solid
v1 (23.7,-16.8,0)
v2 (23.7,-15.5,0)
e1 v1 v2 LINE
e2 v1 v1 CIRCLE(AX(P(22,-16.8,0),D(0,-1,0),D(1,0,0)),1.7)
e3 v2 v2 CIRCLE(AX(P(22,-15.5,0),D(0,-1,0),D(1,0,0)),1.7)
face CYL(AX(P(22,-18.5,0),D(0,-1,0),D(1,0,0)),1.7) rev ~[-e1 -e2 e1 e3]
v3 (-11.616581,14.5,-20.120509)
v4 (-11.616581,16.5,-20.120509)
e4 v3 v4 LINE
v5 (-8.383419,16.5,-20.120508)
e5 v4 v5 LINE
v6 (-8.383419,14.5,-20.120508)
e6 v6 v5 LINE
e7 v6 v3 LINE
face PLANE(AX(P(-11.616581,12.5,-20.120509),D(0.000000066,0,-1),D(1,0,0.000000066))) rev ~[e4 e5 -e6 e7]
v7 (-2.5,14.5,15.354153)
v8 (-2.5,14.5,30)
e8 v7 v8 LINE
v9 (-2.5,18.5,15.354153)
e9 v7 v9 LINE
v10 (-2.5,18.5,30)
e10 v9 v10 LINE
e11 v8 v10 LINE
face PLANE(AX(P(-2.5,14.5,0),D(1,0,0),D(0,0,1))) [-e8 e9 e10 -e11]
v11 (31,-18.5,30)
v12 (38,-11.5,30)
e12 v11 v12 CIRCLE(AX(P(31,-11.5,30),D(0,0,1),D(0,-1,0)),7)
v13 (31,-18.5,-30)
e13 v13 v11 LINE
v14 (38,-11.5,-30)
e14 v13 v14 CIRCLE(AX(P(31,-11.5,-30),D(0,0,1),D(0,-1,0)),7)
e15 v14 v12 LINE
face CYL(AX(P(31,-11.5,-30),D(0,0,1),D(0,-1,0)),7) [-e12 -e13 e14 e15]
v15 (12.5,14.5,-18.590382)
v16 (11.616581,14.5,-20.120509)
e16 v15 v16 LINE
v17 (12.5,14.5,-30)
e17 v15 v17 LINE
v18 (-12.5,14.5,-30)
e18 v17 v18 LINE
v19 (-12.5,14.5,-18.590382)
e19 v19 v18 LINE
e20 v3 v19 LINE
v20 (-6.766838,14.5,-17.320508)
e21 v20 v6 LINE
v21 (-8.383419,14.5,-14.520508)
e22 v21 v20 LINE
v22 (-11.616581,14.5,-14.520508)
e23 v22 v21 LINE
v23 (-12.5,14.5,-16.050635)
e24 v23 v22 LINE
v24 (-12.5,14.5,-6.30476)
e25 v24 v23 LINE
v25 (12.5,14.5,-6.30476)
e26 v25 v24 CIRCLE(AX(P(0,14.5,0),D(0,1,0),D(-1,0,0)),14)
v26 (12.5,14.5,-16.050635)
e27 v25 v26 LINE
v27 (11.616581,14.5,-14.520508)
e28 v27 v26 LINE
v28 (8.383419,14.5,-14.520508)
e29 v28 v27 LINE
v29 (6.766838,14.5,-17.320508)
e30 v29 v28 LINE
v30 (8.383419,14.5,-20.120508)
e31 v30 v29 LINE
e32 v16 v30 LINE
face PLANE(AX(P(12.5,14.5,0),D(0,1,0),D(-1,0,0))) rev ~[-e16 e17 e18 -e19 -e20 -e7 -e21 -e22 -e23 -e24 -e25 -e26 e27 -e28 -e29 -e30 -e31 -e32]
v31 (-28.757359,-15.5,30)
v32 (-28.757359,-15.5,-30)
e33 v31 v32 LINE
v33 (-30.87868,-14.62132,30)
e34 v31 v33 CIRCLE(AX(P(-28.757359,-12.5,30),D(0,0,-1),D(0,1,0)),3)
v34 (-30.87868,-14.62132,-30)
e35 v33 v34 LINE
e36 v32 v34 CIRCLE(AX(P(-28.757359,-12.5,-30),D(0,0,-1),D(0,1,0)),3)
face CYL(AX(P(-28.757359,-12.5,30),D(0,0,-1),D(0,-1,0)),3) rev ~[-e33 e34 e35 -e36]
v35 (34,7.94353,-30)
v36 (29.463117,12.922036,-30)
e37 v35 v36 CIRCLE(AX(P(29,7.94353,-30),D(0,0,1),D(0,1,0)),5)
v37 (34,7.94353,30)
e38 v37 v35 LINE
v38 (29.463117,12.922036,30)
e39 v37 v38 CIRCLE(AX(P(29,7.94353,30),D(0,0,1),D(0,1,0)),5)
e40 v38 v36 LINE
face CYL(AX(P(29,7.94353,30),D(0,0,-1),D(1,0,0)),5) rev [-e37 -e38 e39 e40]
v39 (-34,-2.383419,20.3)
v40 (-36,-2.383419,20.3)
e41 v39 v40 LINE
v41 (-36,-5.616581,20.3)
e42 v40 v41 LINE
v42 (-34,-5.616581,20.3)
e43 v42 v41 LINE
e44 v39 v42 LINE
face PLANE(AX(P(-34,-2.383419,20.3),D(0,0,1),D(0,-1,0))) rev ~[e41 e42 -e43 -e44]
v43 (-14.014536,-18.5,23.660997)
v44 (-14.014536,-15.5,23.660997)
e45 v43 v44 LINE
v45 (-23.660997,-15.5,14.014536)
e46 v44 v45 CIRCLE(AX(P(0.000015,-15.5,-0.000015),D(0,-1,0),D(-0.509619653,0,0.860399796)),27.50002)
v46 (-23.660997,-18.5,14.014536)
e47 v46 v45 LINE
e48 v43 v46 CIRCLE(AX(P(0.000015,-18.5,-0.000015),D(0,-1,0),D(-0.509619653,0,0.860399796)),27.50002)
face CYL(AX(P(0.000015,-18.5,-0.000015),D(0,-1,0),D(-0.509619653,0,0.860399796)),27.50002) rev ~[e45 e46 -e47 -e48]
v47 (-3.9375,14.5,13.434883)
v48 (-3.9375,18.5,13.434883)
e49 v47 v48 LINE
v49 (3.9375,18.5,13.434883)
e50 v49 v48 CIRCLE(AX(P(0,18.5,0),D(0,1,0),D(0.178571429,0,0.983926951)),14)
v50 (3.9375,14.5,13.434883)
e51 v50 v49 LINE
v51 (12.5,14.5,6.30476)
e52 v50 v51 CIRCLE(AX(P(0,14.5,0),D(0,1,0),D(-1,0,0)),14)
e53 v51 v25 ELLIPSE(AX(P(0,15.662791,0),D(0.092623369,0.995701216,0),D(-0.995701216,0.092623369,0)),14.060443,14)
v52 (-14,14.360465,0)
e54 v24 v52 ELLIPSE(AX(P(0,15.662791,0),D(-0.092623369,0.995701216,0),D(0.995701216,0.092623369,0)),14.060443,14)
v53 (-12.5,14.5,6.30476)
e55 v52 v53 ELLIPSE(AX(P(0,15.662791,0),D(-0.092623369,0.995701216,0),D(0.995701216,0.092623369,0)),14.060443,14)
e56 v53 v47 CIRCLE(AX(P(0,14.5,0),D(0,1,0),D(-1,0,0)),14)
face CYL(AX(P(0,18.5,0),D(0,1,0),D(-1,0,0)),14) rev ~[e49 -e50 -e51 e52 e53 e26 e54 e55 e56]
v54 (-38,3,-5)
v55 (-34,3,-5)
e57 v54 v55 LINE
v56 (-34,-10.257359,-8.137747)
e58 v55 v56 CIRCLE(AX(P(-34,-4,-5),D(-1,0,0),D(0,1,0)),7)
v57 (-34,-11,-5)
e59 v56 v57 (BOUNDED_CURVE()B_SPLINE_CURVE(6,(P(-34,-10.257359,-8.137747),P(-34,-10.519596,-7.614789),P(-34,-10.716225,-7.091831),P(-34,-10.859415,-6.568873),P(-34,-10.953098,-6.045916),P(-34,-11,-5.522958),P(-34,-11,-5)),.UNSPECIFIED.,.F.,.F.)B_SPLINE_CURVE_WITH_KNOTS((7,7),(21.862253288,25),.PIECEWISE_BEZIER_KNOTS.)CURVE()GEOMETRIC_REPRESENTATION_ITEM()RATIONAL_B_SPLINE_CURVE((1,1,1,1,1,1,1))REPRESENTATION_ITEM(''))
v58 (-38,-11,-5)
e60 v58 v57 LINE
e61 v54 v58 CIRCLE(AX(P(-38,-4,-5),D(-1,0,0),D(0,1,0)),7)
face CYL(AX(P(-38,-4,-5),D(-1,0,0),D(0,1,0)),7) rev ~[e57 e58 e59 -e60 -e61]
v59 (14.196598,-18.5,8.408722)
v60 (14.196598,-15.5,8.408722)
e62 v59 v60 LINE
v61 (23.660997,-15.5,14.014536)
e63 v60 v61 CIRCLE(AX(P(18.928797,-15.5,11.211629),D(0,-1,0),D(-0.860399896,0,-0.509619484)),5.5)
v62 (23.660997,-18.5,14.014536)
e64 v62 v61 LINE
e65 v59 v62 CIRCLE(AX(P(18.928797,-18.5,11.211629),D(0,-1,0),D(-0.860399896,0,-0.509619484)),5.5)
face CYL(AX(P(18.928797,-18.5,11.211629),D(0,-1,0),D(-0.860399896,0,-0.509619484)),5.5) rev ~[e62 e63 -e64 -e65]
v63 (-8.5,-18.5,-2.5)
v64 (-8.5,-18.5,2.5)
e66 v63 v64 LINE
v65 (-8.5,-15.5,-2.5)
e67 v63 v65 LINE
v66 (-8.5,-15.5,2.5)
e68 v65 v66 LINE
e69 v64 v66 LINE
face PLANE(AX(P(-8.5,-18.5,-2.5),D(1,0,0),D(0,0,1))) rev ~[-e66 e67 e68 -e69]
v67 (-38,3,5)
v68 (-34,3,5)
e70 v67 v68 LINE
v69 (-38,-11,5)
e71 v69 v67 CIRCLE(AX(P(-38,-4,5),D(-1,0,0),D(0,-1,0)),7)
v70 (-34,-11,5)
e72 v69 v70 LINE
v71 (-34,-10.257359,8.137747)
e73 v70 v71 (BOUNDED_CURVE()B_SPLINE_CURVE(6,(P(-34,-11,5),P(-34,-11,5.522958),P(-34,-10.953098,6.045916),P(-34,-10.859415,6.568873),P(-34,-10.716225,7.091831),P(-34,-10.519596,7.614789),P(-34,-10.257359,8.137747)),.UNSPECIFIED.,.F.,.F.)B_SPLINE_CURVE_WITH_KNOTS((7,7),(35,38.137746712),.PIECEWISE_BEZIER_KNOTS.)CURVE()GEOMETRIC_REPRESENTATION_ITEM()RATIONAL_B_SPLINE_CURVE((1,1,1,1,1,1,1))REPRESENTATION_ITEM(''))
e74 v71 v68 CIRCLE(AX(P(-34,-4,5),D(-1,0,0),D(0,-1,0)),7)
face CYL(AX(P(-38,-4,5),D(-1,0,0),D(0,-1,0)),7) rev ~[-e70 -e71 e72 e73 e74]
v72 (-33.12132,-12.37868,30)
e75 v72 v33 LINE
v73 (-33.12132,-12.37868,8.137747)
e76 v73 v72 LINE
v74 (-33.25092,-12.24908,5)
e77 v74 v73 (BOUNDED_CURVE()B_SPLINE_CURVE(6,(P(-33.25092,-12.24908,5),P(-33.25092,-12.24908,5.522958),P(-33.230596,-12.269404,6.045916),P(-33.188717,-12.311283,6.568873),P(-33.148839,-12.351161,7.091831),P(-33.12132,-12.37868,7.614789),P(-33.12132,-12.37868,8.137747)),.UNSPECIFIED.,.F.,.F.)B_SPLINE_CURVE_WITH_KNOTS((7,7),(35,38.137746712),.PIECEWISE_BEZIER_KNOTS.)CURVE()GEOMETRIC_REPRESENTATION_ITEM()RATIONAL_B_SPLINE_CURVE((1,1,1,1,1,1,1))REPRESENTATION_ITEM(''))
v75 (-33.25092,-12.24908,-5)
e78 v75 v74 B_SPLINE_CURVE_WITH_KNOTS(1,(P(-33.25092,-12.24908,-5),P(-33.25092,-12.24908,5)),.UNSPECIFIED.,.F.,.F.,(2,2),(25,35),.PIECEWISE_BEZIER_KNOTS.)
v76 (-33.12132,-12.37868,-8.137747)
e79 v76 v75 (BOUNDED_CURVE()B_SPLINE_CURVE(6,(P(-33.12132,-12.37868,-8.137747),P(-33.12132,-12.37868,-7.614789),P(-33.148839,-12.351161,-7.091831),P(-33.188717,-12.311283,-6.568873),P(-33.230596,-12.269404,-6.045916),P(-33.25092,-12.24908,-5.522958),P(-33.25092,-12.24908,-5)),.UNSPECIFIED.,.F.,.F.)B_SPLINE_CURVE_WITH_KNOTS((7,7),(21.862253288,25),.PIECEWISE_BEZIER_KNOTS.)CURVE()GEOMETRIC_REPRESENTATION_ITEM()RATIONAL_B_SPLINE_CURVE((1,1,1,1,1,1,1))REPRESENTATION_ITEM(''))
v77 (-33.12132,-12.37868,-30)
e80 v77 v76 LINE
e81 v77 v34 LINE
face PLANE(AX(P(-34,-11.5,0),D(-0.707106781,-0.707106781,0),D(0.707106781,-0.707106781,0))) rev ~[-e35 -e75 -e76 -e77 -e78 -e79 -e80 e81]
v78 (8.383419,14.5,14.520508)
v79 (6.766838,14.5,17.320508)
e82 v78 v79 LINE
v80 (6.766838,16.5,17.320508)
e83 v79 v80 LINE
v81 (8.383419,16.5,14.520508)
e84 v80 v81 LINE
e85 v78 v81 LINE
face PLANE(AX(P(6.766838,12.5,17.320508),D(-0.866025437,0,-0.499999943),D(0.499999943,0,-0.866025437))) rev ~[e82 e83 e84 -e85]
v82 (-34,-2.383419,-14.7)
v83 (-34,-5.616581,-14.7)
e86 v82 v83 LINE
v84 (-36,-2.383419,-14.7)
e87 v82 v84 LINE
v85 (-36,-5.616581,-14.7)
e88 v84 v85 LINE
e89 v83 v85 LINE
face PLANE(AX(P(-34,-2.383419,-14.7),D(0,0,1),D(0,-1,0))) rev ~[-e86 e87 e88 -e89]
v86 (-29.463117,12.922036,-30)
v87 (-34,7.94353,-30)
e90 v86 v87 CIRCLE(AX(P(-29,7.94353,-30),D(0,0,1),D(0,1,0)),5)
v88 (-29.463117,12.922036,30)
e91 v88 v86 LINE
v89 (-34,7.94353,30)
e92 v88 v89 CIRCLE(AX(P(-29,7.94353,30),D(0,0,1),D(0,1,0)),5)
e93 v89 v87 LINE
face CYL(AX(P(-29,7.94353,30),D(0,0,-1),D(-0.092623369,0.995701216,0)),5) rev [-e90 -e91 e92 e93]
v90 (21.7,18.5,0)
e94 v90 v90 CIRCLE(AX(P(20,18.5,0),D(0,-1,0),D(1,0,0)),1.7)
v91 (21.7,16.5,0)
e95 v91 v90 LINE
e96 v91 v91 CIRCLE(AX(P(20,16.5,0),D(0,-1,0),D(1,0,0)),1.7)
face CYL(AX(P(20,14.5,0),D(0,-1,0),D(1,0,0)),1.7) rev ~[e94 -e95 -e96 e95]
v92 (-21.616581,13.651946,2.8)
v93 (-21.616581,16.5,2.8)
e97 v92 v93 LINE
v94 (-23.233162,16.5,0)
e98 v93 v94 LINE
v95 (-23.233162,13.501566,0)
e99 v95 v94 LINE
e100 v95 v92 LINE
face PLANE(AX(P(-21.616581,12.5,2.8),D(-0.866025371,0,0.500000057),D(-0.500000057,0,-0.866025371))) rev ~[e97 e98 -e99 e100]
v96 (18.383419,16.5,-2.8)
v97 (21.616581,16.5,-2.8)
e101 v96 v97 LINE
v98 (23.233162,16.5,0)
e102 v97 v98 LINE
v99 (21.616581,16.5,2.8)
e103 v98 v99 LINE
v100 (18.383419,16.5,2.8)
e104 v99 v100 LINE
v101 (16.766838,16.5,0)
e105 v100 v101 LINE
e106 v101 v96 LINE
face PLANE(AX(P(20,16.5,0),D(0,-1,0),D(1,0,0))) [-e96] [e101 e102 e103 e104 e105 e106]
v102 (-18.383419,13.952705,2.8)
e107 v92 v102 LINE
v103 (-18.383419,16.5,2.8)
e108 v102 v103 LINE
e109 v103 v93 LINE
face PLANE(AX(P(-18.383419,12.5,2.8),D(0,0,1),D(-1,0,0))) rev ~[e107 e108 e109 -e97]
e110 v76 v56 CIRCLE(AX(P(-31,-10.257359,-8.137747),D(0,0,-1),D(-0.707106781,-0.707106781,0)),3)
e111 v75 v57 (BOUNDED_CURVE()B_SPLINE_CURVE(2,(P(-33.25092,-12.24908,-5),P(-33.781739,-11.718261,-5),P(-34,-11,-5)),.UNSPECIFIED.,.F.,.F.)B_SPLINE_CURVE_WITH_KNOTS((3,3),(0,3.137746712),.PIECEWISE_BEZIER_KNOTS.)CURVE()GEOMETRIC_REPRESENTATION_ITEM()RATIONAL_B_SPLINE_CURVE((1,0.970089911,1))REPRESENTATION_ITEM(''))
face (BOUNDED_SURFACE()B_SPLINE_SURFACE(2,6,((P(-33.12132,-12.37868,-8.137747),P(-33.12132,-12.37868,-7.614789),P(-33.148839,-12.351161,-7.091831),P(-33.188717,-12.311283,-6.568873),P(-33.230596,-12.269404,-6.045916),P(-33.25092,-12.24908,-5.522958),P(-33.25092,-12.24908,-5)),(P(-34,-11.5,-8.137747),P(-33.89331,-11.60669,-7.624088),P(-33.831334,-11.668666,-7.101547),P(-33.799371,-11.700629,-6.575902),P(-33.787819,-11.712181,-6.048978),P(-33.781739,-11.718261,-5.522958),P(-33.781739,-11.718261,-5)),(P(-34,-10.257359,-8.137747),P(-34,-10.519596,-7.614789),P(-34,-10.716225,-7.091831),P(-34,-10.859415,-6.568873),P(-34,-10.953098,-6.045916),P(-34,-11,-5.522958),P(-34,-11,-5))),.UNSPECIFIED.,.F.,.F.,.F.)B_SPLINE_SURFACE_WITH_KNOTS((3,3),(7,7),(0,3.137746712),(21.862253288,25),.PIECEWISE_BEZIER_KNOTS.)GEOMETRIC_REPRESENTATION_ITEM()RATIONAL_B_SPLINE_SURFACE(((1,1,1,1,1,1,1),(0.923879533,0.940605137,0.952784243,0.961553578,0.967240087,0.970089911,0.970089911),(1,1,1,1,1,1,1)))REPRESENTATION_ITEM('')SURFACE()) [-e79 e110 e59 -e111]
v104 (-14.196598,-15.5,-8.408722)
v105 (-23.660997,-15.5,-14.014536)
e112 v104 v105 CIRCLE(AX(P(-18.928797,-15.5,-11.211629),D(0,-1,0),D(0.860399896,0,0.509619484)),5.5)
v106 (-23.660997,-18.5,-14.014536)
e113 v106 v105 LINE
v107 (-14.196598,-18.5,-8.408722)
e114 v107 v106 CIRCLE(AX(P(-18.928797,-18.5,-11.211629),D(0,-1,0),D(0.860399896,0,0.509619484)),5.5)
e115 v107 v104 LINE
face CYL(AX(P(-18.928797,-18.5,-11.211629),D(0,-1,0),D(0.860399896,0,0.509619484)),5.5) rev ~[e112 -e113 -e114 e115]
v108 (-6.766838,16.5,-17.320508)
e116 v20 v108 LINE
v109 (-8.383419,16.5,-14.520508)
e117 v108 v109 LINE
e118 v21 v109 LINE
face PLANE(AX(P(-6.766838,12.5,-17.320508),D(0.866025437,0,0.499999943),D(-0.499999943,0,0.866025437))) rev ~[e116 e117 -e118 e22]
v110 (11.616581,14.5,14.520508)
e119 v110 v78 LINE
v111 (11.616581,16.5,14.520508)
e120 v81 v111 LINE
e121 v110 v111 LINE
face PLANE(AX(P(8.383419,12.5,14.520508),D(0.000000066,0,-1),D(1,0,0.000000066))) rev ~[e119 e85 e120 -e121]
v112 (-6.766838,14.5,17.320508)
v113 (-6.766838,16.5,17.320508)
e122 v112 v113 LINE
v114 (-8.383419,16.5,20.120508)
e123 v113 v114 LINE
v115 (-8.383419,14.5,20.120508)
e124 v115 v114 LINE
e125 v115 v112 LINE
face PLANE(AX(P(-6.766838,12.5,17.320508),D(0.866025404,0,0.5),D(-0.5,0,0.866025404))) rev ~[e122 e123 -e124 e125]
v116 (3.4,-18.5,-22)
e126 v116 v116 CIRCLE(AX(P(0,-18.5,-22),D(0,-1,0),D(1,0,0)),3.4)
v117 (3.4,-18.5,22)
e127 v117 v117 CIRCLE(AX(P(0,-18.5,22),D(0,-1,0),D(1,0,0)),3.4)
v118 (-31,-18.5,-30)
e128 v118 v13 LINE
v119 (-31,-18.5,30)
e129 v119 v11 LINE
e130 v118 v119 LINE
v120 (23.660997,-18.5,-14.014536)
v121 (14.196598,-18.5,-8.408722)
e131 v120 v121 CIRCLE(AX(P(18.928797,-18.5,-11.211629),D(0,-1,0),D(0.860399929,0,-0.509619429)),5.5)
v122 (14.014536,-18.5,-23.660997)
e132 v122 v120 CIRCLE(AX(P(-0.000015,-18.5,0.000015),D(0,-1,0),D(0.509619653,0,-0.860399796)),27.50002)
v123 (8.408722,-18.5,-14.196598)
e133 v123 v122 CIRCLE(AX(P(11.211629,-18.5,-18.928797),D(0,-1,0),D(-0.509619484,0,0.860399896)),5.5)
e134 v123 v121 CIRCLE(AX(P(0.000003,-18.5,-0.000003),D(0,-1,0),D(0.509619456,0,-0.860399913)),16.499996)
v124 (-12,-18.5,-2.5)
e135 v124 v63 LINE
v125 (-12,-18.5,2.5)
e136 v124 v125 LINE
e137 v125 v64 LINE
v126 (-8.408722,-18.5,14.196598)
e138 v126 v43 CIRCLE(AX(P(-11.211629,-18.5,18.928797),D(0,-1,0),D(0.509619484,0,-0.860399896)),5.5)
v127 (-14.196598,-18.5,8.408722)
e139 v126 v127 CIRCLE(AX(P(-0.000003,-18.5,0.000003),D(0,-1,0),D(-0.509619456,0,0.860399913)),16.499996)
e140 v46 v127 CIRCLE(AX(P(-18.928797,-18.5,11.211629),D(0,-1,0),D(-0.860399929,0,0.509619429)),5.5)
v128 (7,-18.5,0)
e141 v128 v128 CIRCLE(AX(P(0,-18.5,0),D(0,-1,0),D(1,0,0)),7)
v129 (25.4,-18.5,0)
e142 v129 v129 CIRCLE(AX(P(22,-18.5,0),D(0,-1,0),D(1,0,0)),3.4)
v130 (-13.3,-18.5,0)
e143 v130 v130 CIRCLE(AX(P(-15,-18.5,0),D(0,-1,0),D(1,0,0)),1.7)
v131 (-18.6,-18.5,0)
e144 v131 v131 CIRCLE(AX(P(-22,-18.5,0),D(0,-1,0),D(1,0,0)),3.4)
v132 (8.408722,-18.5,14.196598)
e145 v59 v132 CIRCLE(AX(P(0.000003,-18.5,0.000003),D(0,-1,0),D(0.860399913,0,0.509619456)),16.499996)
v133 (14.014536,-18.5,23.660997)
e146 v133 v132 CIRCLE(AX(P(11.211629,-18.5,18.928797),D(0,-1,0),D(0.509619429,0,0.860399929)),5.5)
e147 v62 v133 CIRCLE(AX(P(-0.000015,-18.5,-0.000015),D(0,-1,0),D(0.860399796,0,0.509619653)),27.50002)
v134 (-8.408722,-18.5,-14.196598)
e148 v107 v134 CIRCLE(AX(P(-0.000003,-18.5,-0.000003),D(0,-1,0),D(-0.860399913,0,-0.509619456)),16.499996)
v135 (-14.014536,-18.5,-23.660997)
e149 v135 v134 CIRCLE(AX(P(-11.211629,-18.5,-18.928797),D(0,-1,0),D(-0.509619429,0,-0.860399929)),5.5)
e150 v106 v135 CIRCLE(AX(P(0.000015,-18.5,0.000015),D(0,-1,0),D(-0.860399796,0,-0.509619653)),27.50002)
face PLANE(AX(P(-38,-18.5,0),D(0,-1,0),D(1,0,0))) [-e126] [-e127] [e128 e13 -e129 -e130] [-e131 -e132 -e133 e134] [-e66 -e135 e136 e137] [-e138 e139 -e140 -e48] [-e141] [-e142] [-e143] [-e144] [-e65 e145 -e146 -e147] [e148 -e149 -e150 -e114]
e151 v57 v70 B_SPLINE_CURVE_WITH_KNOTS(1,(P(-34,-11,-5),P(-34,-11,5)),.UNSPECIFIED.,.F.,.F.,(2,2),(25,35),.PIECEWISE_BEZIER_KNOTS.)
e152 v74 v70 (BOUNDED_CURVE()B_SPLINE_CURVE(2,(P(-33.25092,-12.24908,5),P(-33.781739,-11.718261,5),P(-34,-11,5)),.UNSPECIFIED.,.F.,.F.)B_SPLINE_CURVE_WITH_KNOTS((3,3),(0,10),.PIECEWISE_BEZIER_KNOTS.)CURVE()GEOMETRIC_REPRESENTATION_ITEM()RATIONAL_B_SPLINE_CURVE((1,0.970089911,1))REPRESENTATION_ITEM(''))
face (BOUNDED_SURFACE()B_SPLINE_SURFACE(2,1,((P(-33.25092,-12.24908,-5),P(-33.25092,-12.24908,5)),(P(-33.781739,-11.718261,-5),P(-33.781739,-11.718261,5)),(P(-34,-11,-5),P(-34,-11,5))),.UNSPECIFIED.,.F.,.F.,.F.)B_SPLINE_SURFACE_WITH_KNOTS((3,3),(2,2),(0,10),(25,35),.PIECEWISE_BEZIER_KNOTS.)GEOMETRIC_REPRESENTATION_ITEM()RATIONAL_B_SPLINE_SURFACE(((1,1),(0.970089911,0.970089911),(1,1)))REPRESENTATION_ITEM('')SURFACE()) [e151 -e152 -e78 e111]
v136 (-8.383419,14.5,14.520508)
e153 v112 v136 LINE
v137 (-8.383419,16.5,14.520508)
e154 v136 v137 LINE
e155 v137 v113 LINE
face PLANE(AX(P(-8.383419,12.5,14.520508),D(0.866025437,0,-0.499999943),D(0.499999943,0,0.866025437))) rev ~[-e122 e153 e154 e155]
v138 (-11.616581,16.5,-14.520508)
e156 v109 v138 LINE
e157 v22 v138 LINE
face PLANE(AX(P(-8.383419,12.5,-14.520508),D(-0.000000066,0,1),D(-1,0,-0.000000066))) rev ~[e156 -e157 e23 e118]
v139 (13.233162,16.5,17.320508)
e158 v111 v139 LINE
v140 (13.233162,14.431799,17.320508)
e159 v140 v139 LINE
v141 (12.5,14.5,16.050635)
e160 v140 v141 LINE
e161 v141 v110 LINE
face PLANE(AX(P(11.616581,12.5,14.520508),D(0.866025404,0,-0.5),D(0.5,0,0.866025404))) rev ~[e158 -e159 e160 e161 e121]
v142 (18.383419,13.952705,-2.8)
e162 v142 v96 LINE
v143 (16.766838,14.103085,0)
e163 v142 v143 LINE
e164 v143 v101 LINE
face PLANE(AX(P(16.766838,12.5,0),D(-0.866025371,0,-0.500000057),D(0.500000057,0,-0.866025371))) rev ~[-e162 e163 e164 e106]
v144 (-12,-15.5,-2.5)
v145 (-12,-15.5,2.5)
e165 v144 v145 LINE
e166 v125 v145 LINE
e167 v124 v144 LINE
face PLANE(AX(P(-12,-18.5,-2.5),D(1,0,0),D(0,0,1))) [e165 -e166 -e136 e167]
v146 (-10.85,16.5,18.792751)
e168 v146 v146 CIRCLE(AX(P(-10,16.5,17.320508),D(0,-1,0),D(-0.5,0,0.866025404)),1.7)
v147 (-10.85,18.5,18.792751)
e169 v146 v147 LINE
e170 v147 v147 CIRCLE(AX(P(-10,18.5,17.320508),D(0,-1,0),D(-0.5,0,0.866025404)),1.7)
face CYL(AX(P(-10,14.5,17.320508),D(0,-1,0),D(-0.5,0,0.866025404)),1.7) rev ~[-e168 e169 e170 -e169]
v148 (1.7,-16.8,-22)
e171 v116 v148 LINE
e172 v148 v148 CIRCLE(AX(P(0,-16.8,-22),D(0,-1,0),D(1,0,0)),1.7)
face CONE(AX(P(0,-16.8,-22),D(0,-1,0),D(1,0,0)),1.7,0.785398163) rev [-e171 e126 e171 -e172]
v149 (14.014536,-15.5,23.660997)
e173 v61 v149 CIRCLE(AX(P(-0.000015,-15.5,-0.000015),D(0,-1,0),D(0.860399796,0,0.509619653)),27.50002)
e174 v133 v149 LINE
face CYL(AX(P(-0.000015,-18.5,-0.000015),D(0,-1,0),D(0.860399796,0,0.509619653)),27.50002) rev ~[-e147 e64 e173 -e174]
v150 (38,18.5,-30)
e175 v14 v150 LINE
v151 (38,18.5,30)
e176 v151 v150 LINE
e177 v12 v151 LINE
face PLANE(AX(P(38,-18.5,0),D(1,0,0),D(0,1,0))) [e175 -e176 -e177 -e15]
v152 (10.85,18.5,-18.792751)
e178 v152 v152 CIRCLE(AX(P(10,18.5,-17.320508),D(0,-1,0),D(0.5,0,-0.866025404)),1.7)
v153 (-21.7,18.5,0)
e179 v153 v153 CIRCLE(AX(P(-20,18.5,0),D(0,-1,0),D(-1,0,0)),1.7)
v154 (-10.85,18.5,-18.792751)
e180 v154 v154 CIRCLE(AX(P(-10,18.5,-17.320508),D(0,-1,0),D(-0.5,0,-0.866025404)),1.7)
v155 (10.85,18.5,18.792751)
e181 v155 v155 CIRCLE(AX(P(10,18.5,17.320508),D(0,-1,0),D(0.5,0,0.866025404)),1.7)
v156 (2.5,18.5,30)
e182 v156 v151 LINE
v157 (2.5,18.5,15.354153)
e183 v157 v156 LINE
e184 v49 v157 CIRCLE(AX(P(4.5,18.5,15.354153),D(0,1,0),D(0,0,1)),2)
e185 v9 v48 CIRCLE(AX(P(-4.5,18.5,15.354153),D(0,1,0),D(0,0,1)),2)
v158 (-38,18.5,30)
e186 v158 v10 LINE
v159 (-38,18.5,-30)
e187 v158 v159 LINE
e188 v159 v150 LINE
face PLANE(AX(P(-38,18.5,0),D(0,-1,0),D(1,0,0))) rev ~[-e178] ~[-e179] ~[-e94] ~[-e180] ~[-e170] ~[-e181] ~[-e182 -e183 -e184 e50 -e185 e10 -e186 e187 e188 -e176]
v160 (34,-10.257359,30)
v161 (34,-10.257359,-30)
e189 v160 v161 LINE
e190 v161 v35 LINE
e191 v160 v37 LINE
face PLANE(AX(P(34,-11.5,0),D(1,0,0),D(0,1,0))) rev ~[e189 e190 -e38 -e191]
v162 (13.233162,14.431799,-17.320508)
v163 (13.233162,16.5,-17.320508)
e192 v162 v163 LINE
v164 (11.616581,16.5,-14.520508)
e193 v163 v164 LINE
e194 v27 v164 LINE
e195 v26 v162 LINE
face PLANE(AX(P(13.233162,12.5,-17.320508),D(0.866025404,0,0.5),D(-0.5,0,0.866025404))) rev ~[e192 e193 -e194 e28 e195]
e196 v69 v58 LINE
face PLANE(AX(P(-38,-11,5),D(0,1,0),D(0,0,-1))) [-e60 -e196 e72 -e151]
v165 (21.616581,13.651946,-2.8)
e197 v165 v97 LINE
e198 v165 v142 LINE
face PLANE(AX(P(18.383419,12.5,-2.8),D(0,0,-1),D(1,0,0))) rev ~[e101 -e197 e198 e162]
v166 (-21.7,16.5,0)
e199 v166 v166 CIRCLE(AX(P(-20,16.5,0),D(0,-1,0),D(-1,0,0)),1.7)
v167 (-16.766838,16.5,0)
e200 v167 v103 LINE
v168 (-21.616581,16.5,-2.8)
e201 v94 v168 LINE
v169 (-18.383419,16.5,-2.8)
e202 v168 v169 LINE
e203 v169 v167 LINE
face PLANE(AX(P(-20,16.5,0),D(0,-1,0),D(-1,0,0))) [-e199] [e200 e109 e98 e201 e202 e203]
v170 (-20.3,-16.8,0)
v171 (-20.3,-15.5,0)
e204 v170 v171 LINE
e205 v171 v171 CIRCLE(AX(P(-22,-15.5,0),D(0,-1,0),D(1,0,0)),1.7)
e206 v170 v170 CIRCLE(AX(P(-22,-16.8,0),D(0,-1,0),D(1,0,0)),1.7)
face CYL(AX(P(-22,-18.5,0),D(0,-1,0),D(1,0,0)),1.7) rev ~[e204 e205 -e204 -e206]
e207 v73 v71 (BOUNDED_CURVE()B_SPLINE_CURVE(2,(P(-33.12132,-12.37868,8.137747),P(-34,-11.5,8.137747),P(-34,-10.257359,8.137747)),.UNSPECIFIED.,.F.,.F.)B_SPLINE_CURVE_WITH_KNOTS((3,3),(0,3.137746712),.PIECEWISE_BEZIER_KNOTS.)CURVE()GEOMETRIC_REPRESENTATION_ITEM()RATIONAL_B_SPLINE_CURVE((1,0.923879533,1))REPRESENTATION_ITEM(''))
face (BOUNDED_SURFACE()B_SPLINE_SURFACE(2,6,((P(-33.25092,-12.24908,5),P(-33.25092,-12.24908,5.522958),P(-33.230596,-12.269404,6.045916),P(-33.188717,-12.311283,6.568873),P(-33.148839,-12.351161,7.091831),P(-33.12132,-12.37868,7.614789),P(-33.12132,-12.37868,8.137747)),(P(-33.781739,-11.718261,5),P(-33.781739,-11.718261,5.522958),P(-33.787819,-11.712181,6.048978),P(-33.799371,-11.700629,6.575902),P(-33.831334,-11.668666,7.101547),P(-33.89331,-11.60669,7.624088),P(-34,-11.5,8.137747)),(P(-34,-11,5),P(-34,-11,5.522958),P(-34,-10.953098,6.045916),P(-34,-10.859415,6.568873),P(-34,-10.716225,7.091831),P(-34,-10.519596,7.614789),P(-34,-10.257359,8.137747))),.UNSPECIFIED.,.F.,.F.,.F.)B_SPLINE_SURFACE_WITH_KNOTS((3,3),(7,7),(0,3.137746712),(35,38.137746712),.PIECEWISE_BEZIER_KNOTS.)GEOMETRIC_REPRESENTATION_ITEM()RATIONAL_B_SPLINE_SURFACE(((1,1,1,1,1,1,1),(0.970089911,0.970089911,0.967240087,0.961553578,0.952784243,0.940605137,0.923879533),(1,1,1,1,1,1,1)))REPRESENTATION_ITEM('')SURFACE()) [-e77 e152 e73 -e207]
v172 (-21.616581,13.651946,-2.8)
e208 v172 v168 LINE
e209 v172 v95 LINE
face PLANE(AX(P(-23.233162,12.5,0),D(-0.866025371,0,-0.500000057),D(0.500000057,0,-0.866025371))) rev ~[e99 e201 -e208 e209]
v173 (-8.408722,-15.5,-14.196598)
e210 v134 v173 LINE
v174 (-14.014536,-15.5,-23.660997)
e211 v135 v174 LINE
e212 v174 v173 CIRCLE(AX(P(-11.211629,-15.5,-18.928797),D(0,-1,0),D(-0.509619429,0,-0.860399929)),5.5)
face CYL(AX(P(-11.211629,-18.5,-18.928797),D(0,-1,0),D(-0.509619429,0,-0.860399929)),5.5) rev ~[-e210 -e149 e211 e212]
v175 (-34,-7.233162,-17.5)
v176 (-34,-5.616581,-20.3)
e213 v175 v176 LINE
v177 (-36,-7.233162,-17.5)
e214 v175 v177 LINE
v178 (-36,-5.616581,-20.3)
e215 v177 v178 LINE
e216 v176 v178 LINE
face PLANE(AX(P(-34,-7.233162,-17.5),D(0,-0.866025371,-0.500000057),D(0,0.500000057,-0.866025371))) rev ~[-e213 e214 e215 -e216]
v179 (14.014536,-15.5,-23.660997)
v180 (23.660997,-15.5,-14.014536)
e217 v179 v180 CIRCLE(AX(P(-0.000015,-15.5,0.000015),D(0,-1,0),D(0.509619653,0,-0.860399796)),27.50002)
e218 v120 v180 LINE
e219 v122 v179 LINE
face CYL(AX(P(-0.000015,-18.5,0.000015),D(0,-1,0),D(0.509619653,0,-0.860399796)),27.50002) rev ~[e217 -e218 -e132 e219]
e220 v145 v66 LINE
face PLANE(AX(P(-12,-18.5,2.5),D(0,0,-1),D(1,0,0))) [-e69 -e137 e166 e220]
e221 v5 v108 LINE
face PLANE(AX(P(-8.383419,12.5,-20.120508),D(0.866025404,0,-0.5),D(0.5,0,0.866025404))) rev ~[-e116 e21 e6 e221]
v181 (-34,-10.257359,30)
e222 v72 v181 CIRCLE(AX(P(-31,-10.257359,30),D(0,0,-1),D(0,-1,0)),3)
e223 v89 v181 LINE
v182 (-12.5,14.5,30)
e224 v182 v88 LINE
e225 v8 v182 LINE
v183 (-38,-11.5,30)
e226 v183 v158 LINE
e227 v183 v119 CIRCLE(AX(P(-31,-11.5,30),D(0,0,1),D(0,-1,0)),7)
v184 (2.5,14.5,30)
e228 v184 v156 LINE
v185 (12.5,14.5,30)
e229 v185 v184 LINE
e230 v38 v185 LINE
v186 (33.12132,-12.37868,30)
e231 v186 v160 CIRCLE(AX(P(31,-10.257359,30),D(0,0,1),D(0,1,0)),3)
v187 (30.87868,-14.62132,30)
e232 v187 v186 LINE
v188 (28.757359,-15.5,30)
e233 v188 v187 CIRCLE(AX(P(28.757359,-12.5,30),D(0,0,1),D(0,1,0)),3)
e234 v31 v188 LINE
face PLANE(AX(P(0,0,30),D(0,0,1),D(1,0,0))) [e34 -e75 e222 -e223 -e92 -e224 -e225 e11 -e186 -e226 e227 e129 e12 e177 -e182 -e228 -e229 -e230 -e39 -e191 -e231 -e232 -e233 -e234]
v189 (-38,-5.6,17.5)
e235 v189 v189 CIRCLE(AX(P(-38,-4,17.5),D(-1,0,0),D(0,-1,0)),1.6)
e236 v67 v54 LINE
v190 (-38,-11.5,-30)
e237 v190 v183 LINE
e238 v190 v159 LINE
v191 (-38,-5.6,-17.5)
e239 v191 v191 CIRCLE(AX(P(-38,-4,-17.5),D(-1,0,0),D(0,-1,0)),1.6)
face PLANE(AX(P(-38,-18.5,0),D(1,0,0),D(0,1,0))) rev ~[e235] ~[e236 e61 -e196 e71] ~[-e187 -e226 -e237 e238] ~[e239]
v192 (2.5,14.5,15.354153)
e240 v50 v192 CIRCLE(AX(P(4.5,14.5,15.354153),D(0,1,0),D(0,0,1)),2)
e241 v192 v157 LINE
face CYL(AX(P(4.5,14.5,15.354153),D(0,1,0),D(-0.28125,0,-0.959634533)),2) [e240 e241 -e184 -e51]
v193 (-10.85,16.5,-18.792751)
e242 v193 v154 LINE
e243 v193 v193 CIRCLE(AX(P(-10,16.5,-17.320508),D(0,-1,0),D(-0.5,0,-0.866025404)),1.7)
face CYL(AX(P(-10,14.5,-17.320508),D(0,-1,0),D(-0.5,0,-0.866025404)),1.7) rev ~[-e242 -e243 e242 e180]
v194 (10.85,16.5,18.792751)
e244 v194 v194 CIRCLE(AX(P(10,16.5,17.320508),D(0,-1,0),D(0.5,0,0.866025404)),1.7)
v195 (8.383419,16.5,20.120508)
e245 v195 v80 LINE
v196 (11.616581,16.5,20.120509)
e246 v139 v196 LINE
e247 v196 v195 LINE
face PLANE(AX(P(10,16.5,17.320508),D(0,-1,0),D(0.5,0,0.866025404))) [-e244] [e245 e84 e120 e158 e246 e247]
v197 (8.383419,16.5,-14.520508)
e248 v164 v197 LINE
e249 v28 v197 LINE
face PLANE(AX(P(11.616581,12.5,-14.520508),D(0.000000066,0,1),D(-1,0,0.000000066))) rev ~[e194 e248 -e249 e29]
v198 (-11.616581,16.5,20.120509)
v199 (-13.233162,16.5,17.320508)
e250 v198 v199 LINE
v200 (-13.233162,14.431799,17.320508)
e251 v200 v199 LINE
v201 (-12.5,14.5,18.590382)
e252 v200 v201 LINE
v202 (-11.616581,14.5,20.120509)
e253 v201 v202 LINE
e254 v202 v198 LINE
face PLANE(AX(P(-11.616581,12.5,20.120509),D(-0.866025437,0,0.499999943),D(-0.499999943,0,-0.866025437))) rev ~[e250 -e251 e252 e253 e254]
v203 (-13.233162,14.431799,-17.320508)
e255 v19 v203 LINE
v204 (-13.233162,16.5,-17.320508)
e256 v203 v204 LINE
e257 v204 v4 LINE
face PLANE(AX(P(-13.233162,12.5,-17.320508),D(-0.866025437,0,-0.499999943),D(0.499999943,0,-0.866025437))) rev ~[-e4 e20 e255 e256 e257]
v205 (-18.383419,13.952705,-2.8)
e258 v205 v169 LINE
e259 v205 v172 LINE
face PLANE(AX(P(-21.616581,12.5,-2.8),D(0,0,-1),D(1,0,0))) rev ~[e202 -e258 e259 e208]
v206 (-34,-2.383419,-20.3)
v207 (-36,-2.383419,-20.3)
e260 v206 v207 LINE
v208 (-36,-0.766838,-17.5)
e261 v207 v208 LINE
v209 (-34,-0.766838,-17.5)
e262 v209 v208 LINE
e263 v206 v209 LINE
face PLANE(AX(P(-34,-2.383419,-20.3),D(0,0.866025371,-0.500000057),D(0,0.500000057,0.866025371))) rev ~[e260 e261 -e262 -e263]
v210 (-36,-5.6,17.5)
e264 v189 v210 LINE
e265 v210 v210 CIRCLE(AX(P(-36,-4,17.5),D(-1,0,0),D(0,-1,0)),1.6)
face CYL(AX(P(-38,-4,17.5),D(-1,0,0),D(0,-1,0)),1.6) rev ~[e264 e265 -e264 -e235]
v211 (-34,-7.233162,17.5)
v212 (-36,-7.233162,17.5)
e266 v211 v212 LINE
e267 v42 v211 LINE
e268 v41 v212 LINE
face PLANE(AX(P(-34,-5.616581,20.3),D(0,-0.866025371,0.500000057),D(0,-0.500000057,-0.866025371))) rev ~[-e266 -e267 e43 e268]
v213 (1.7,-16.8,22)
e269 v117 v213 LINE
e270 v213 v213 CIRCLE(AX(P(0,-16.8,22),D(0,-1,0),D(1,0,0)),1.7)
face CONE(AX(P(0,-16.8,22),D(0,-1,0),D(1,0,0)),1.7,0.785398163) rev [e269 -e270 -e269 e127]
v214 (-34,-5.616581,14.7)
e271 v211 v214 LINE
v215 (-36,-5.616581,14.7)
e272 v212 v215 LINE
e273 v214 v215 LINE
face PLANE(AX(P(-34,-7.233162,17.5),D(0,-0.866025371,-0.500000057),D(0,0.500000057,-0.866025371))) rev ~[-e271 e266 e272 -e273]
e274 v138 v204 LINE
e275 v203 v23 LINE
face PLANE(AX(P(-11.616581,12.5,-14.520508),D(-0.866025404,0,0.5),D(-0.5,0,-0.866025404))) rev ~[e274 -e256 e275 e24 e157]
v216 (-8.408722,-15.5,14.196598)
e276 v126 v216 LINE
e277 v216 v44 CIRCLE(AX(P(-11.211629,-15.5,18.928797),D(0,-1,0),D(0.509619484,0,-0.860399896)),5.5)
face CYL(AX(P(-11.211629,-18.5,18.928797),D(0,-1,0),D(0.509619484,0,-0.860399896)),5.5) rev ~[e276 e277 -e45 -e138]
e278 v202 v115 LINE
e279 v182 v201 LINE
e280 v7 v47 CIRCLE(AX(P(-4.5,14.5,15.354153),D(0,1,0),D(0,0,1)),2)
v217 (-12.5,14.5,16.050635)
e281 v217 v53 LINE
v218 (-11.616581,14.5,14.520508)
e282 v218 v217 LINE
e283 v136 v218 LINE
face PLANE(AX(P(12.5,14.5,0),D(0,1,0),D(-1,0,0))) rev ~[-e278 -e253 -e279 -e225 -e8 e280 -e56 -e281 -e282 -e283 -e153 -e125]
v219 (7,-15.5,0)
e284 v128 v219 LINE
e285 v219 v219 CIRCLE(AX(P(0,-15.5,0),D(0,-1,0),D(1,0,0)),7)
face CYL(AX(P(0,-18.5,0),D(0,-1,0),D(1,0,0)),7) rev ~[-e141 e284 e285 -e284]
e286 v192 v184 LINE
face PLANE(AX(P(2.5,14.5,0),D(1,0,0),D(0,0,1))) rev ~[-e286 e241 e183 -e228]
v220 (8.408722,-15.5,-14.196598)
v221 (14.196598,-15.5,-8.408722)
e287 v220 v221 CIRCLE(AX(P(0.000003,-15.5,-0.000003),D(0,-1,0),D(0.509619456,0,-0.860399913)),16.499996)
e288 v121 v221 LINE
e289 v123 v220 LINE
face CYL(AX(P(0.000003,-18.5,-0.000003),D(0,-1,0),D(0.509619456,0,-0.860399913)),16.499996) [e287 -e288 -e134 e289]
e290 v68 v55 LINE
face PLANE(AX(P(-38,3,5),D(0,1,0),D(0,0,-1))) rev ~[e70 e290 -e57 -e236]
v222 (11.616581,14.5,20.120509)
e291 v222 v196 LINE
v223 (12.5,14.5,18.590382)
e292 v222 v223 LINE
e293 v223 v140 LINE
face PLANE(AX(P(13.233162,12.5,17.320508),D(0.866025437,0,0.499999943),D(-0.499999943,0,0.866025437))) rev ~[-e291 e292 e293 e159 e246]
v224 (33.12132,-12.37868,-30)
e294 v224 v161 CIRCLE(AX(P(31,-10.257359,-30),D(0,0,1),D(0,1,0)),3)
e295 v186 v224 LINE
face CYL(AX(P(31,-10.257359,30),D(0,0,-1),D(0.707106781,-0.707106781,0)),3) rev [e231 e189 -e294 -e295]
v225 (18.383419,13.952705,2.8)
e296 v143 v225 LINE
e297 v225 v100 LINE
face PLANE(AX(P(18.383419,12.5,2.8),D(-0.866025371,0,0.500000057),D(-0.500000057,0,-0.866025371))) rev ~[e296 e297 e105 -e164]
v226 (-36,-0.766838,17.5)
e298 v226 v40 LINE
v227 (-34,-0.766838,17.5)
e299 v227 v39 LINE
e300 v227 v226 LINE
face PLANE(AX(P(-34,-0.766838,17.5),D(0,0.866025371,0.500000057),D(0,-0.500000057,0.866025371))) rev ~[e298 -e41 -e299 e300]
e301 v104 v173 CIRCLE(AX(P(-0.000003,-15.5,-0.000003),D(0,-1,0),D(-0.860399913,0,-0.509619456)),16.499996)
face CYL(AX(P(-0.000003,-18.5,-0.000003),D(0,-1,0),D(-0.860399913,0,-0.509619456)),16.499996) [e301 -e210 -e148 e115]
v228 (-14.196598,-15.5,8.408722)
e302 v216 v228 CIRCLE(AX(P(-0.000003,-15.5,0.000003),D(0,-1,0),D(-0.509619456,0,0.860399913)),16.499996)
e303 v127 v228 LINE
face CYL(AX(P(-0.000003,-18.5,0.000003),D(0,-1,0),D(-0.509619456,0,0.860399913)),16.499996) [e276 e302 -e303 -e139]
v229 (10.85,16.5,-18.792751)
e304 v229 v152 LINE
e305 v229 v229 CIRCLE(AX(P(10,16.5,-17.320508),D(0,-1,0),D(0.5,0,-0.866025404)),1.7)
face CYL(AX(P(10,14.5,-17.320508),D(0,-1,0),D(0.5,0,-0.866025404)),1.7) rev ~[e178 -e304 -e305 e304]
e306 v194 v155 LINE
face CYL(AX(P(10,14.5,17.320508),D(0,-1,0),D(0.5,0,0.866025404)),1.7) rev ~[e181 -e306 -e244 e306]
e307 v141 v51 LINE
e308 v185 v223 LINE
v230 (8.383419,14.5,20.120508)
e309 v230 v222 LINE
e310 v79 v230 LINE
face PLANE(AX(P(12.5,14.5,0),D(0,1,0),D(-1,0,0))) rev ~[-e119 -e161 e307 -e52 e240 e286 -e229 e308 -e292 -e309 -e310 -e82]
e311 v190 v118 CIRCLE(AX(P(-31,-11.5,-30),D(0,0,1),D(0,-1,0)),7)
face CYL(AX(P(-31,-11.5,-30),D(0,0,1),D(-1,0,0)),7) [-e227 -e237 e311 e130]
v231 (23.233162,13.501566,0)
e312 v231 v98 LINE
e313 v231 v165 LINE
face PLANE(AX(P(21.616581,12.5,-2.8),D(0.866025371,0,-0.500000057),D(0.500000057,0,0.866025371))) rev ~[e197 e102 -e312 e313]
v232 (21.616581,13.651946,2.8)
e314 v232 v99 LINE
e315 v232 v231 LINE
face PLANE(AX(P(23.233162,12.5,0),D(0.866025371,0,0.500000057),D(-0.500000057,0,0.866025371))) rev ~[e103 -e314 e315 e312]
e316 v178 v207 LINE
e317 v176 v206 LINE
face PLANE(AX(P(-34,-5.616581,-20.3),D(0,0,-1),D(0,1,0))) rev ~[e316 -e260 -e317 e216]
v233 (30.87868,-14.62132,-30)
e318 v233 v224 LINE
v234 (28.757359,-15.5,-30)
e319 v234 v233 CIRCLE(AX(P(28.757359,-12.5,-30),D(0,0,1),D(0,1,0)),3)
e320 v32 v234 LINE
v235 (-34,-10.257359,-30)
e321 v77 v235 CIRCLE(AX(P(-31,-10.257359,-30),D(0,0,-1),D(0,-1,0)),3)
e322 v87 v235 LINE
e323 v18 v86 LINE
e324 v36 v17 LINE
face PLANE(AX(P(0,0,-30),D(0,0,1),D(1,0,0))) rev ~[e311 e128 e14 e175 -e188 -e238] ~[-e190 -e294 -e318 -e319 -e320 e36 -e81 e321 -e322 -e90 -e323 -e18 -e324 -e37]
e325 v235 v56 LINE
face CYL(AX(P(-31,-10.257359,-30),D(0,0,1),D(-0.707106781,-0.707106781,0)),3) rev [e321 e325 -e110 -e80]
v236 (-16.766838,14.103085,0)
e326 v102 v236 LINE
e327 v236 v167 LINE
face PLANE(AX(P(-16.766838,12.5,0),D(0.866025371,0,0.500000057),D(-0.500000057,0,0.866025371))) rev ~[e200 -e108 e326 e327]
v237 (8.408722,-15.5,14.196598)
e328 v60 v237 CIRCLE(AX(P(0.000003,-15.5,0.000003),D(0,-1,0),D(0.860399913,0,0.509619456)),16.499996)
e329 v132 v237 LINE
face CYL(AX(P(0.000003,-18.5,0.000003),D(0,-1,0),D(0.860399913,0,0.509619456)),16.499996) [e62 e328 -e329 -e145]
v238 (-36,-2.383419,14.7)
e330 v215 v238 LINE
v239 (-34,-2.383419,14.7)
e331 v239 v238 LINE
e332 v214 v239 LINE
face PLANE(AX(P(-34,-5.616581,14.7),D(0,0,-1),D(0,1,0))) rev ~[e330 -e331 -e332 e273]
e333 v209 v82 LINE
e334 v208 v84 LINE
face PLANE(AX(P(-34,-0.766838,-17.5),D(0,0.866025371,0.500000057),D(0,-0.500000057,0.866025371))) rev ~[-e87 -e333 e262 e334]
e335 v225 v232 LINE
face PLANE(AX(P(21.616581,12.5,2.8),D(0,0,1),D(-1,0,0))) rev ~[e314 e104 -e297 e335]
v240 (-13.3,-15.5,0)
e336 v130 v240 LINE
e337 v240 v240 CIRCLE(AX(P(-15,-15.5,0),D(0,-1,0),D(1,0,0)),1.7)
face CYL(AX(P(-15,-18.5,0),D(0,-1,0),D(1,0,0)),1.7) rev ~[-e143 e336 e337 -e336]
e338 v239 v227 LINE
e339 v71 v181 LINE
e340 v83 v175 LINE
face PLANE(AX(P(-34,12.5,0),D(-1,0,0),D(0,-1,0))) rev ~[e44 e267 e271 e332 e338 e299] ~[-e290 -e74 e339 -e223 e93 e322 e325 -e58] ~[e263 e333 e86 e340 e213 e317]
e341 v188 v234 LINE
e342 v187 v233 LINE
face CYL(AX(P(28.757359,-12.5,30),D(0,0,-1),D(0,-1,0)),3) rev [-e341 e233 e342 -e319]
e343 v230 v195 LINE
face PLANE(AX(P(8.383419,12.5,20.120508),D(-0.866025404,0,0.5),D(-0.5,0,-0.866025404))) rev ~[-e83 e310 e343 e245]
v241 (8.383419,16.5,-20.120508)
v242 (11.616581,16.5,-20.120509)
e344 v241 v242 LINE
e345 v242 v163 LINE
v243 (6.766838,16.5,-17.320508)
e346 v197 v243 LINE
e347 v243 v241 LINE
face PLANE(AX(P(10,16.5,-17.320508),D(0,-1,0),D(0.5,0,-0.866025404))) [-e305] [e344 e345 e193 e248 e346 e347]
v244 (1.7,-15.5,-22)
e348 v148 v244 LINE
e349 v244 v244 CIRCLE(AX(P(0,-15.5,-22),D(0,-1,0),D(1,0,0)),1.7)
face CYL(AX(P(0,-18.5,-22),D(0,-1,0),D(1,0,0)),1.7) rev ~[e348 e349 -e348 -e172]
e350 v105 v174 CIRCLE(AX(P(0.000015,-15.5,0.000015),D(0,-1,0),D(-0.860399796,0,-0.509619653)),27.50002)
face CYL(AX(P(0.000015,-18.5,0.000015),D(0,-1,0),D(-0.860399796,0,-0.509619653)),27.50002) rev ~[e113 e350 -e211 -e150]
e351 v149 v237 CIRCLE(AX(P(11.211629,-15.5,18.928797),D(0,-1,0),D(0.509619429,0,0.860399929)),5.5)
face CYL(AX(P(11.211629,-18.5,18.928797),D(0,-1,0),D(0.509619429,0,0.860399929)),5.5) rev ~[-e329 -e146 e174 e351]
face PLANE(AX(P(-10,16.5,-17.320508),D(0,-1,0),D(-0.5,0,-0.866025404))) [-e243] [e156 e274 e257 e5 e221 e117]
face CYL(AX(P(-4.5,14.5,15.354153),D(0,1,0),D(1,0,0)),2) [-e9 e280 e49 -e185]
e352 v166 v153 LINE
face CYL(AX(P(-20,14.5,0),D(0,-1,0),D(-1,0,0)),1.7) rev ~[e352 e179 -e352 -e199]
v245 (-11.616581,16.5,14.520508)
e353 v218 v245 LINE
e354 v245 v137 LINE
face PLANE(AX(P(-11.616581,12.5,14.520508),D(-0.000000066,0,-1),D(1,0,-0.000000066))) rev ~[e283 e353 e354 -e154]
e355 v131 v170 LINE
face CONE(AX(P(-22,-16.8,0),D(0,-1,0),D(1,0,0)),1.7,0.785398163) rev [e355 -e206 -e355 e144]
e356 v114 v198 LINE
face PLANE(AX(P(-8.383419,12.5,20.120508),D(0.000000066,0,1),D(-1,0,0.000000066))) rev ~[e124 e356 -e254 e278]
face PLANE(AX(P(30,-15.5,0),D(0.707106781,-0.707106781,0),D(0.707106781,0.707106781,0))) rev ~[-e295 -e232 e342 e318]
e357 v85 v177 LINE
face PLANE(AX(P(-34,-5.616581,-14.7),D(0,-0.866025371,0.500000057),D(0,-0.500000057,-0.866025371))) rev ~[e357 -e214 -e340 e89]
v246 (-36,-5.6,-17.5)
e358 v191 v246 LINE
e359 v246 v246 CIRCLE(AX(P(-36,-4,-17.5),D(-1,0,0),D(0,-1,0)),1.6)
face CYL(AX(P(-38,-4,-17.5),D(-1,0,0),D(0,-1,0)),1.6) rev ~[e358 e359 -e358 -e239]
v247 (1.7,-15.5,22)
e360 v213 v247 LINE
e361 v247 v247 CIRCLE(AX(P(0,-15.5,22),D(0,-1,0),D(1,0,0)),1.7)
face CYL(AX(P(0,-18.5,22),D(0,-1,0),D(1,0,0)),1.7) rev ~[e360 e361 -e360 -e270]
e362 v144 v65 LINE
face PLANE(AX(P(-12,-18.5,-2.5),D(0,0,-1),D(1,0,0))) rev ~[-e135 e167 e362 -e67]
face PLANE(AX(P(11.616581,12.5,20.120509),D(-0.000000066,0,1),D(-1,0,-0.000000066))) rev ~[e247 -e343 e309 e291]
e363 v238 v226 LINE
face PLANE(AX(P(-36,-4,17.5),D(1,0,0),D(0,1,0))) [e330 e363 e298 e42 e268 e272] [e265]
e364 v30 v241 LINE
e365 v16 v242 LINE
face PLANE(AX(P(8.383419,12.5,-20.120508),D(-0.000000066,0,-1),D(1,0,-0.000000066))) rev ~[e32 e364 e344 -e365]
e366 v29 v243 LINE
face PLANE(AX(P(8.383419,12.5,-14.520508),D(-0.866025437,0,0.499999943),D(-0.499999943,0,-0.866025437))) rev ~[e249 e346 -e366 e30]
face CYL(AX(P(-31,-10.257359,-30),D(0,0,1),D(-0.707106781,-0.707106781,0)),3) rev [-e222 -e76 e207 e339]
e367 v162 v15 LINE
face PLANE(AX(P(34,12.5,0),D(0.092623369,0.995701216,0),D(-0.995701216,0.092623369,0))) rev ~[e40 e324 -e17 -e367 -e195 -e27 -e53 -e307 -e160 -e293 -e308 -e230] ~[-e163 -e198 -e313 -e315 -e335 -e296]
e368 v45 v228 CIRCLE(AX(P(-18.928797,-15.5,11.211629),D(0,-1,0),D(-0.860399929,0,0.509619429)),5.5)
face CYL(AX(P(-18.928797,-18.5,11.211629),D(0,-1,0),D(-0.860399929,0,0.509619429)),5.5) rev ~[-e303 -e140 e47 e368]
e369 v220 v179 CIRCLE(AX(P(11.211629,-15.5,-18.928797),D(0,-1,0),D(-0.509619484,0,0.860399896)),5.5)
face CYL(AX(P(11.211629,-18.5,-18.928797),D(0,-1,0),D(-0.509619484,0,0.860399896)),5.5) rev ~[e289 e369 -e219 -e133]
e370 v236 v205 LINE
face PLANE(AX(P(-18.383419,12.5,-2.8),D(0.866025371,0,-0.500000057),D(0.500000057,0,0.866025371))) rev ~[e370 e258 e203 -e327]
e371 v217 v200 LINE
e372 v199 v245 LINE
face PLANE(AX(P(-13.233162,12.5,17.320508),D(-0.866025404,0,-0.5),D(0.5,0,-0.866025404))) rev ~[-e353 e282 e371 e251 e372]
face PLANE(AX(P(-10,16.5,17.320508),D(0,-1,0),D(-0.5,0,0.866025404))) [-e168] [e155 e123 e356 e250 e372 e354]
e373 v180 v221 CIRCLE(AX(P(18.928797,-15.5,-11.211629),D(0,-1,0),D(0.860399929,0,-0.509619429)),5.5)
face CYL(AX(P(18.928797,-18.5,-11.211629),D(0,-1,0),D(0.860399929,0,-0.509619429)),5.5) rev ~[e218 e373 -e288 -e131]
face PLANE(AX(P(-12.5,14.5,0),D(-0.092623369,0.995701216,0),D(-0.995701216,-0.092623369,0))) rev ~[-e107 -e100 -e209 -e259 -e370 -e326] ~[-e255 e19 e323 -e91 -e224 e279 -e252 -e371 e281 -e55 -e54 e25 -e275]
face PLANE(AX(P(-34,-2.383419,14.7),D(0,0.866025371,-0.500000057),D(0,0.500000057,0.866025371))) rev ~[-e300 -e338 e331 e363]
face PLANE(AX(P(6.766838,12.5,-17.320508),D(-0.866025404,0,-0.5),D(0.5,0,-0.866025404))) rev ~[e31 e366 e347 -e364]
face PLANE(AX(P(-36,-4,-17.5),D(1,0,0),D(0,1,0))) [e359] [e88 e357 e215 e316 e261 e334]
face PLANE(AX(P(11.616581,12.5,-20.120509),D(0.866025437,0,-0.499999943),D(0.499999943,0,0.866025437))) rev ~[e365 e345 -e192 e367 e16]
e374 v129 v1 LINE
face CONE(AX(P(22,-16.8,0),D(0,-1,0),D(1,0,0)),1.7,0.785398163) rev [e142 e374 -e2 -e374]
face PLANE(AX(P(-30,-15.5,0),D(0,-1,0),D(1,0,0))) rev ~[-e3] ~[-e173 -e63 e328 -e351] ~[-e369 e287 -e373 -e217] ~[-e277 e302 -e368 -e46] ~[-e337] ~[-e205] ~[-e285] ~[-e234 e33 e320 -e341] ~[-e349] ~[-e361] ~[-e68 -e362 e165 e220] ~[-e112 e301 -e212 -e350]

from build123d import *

# Parameters (mm, degrees)
SKETCH_W              = 76
SKETCH_H              = 37
PAD_DEPTH             = 30
SKETCH020_R           = 14
POCKET_DEPTH          = 8
SKETCH026_R           = 1.7
PAD001_DEPTH          = 2
POCKET001_DEPTH       = 4
POLARPATTERN_COUNT    = 6
SKETCH025_R           = 1.7
POCKET005_DEPTH       = 211.317184
POLARPATTERN001_COUNT = 6
SKETCH022_R           = 1.7
SKETCH022_R_2         = 7
SKETCH022_W           = 3.5
SKETCH022_H           = 5
POCKET002_DEPTH       = 5
SKETCH027_W           = 5
SKETCH027_H           = 30
POCKET006_DEPTH       = 4.001
SKETCH028_R           = 1.6
POCKET007_DEPTH       = 5
POCKET008_DEPTH       = 2
FILLET_R              = 7
FILLET001_R           = 7
FILLET002_R           = 5
FILLET003_R           = 5
FILLET004_R           = 3
FILLET005_R           = 3
FILLET006_R           = 3
FILLET007_R           = 3
FILLET008_R           = 2
FILLET009_R           = 2
CHAMFER_SIZE          = 1.7
CHAMFER001_SIZE       = 1.7
CHAMFER002_SIZE       = 1.7
CHAMFER003_SIZE       = 1.7


with BuildPart() as part:
    # Sketch → Pad (new body, symmetric)
    with BuildSketch(Plane.XY):
        Rectangle(SKETCH_W, SKETCH_H)
        Polygon((-34, -11.5), (-30, -15.5), (30, -15.5), (34, -11.5), (34, 12.5), (12.5, 14.5), (-12.5, 14.5), (-34, 12.5), align=None, mode=Mode.SUBTRACT)
    extrude(amount=PAD_DEPTH, both=True)

    # Sketch020 → Pocket (cut)
    with BuildSketch(Plane(origin=(0, 18.5, 0), x_dir=(-1, 0, 0), z_dir=(0, 1, 0))):
        Circle(SKETCH020_R)
    extrude(amount=-POCKET_DEPTH, mode=Mode.SUBTRACT)

    # Sketch026 → Pad001 (new body)
    with BuildSketch(Plane.XZ.offset(-14.5)):
        with Locations((20, 0)):
            Circle(SKETCH026_R)
    extrude(amount=PAD001_DEPTH)

    # Sketch021 → Pocket001 (cut)
    with BuildSketch(Plane.XZ.offset(-12.5)):
        Polygon((18.383419, 2.8), (16.766838, 0), (18.383419, -2.8), (21.616581, -2.8), (23.233162, 0), (21.616581, 2.8), align=None)
    pocket001 = extrude(amount=-POCKET001_DEPTH, mode=Mode.SUBTRACT)

    # PolarPattern: Pocket001 ×6 about axis
    polarpattern_axis = Axis((0, 12.5, 0), (0, -1, 0))
    for i in range(1, POLARPATTERN_COUNT):
        add(pocket001.rotate(polarpattern_axis, i * 360 / POLARPATTERN_COUNT), mode=Mode.SUBTRACT)

    # Sketch025 → Pocket005 (cut, through all)
    with BuildSketch(Plane.XZ.offset(-14.5)):
        with Locations((20, 0)):
            Circle(SKETCH025_R)
    pocket005 = extrude(amount=-POCKET005_DEPTH, mode=Mode.SUBTRACT)

    # PolarPattern001: Pocket005 ×6 about axis
    polarpattern001_axis = Axis((0, 14.5, 0), (0, -1, 0))
    for i in range(1, POLARPATTERN001_COUNT):
        add(pocket005.rotate(polarpattern001_axis, i * 360 / POLARPATTERN001_COUNT), mode=Mode.SUBTRACT)

    # Sketch022 → Pocket002 (cut)
    with BuildSketch(Plane.XZ.offset(18.5)):
        with Locations((0, 22)):
            Circle(SKETCH022_R)
        with Locations((0, -22)):
            Circle(SKETCH022_R)
        with Locations((-22, 0)):
            Circle(SKETCH022_R)
        with Locations((22, 0)):
            Circle(SKETCH022_R)
        Circle(SKETCH022_R_2)
        with Locations((-15, 0)):
            Circle(SKETCH022_R)
        with BuildLine():
            ThreePointArc((-23.660997, 14.014536), (-21.731705, 6.47943), (-14.196598, 8.408722))
            ThreePointArc((-8.408722, 14.196598), (-11.667262, 11.667262), (-14.196598, 8.408722))
            ThreePointArc((-8.408722, 14.196598), (-6.47943, 21.731705), (-14.014536, 23.660997))
            ThreePointArc((-14.014536, 23.660997), (-19.445436, 19.445436), (-23.660997, 14.014536))
        make_face()
        with BuildLine():
            ThreePointArc((8.408722, -14.196598), (11.667262, -11.667262), (14.196598, -8.408722))
            ThreePointArc((23.660997, -14.014536), (21.731705, -6.47943), (14.196598, -8.408722))
            ThreePointArc((14.014536, -23.660997), (19.445436, -19.445436), (23.660997, -14.014536))
            ThreePointArc((8.408722, -14.196598), (6.47943, -21.731705), (14.014536, -23.660997))
        make_face()
        with BuildLine():
            ThreePointArc((23.660997, 14.014536), (19.445436, 19.445436), (14.014536, 23.660997))
            ThreePointArc((14.014536, 23.660997), (6.47943, 21.731705), (8.408722, 14.196598))
            ThreePointArc((14.196598, 8.408722), (11.667262, 11.667262), (8.408722, 14.196598))
            ThreePointArc((14.196598, 8.408722), (21.731705, 6.47943), (23.660997, 14.014536))
        make_face()
        with BuildLine():
            ThreePointArc((-14.014536, -23.660997), (-6.47943, -21.731705), (-8.408722, -14.196598))
            ThreePointArc((-14.196598, -8.408722), (-11.667262, -11.667262), (-8.408722, -14.196598))
            ThreePointArc((-14.196598, -8.408722), (-21.731705, -6.47943), (-23.660997, -14.014536))
            ThreePointArc((-23.660997, -14.014536), (-19.445436, -19.445436), (-14.014536, -23.660997))
        make_face()
        with Locations((-10.25, 0)):
            Rectangle(SKETCH022_W, SKETCH022_H)
    extrude(amount=-POCKET002_DEPTH, mode=Mode.SUBTRACT)

    # Sketch027 → Pocket006 (cut, through all)
    with BuildSketch(Plane.XZ.offset(-14.5)):
        with Locations((0, 15)):
            Rectangle(SKETCH027_W, SKETCH027_H)
    extrude(amount=-POCKET006_DEPTH, mode=Mode.SUBTRACT)

    # Sketch028 → Pocket007 (cut)
    with BuildSketch(Plane(origin=(-38, 0, 0), x_dir=(0, -1, 0), z_dir=(-1, 0, 0))):
        with Locations((4, 17.5)):
            Circle(SKETCH028_R)
        with Locations((4, -17.5)):
            Circle(SKETCH028_R)
        with BuildLine():
            ThreePointArc((11, 5), (4, 12), (-3, 5))
            Line((-3, 5), (-3, -5))
            ThreePointArc((-3, -5), (4, -12), (11, -5))
            Line((11, 5), (11, -5))
        make_face()
    extrude(amount=-POCKET007_DEPTH, mode=Mode.SUBTRACT)

    # Sketch029 → Pocket008 (cut)
    with BuildSketch(Plane.YZ.offset(-34)):
        Polygon((-2.383419, 14.7), (-0.766838, 17.5), (-2.383419, 20.3), (-5.616581, 20.3), (-7.233162, 17.5), (-5.616581, 14.7), align=None)
        Polygon((-7.233162, -17.5), (-5.616581, -20.3), (-2.383419, -20.3), (-0.766838, -17.5), (-2.383419, -14.7), (-5.616581, -14.7), align=None)
    extrude(amount=-POCKET008_DEPTH, mode=Mode.SUBTRACT)

    # Fillet
    fillet_edges = [part.edges().sort_by_distance(p)[0] for p in [
        (-38, -18.5, 0),
    ]]
    fillet(fillet_edges, radius=FILLET_R)

    # Fillet001
    fillet001_edges = [part.edges().sort_by_distance(p)[0] for p in [
        (38, -18.5, 0),
    ]]
    fillet(fillet001_edges, radius=FILLET001_R)

    # Fillet002
    fillet002_edges = [part.edges().sort_by_distance(p)[0] for p in [
        (-34, 12.5, 0),
    ]]
    fillet(fillet002_edges, radius=FILLET002_R)

    # Fillet003
    fillet003_edges = [part.edges().sort_by_distance(p)[0] for p in [
        (34, 12.5, 0),
    ]]
    fillet(fillet003_edges, radius=FILLET003_R)

    # Fillet004
    fillet004_edges = [part.edges().sort_by_distance(p)[0] for p in [
        (-30, -15.5, 0),
    ]]
    fillet(fillet004_edges, radius=FILLET004_R)

    # Fillet005
    fillet005_edges = [part.edges().sort_by_distance(p)[0] for p in [
        (30, -15.5, 0),
    ]]
    fillet(fillet005_edges, radius=FILLET005_R)

    # Fillet006
    fillet006_edges = [part.edges().sort_by_distance(p)[0] for p in [
        (34, -11.5, 0),
    ]]
    fillet(fillet006_edges, radius=FILLET006_R)

    # Fillet007
    fillet007_edges = [part.edges().sort_by_distance(p)[0] for p in [
        (-34, -11.5, 0),
    ]]
    fillet(fillet007_edges, radius=FILLET007_R)

    # Fillet008
    fillet008_edges = [part.edges().sort_by_distance(p)[0] for p in [
        (-2.5, 16.5, 13.774977),
    ]]
    fillet(fillet008_edges, radius=FILLET008_R)

    # Fillet009
    fillet009_edges = [part.edges().sort_by_distance(p)[0] for p in [
        (2.5, 16.5, 13.774977),
    ]]
    fillet(fillet009_edges, radius=FILLET009_R)

    # Chamfer
    chamfer_edges = [part.edges().sort_by_distance(p)[0] for p in [
        (-1.7, -18.5, 22),
    ]]
    chamfer(chamfer_edges, length=CHAMFER_SIZE)

    # Chamfer001
    chamfer001_edges = [part.edges().sort_by_distance(p)[0] for p in [
        (20.3, -18.5, 0),
    ]]
    chamfer(chamfer001_edges, length=CHAMFER001_SIZE)

    # Chamfer002
    chamfer002_edges = [part.edges().sort_by_distance(p)[0] for p in [
        (-23.7, -18.5, 0),
    ]]
    chamfer(chamfer002_edges, length=CHAMFER002_SIZE)

    # Chamfer003
    chamfer003_edges = [part.edges().sort_by_distance(p)[0] for p in [
        (-1.7, -18.5, -22),
    ]]
    chamfer(chamfer003_edges, length=CHAMFER003_SIZE)


solid = part.part
